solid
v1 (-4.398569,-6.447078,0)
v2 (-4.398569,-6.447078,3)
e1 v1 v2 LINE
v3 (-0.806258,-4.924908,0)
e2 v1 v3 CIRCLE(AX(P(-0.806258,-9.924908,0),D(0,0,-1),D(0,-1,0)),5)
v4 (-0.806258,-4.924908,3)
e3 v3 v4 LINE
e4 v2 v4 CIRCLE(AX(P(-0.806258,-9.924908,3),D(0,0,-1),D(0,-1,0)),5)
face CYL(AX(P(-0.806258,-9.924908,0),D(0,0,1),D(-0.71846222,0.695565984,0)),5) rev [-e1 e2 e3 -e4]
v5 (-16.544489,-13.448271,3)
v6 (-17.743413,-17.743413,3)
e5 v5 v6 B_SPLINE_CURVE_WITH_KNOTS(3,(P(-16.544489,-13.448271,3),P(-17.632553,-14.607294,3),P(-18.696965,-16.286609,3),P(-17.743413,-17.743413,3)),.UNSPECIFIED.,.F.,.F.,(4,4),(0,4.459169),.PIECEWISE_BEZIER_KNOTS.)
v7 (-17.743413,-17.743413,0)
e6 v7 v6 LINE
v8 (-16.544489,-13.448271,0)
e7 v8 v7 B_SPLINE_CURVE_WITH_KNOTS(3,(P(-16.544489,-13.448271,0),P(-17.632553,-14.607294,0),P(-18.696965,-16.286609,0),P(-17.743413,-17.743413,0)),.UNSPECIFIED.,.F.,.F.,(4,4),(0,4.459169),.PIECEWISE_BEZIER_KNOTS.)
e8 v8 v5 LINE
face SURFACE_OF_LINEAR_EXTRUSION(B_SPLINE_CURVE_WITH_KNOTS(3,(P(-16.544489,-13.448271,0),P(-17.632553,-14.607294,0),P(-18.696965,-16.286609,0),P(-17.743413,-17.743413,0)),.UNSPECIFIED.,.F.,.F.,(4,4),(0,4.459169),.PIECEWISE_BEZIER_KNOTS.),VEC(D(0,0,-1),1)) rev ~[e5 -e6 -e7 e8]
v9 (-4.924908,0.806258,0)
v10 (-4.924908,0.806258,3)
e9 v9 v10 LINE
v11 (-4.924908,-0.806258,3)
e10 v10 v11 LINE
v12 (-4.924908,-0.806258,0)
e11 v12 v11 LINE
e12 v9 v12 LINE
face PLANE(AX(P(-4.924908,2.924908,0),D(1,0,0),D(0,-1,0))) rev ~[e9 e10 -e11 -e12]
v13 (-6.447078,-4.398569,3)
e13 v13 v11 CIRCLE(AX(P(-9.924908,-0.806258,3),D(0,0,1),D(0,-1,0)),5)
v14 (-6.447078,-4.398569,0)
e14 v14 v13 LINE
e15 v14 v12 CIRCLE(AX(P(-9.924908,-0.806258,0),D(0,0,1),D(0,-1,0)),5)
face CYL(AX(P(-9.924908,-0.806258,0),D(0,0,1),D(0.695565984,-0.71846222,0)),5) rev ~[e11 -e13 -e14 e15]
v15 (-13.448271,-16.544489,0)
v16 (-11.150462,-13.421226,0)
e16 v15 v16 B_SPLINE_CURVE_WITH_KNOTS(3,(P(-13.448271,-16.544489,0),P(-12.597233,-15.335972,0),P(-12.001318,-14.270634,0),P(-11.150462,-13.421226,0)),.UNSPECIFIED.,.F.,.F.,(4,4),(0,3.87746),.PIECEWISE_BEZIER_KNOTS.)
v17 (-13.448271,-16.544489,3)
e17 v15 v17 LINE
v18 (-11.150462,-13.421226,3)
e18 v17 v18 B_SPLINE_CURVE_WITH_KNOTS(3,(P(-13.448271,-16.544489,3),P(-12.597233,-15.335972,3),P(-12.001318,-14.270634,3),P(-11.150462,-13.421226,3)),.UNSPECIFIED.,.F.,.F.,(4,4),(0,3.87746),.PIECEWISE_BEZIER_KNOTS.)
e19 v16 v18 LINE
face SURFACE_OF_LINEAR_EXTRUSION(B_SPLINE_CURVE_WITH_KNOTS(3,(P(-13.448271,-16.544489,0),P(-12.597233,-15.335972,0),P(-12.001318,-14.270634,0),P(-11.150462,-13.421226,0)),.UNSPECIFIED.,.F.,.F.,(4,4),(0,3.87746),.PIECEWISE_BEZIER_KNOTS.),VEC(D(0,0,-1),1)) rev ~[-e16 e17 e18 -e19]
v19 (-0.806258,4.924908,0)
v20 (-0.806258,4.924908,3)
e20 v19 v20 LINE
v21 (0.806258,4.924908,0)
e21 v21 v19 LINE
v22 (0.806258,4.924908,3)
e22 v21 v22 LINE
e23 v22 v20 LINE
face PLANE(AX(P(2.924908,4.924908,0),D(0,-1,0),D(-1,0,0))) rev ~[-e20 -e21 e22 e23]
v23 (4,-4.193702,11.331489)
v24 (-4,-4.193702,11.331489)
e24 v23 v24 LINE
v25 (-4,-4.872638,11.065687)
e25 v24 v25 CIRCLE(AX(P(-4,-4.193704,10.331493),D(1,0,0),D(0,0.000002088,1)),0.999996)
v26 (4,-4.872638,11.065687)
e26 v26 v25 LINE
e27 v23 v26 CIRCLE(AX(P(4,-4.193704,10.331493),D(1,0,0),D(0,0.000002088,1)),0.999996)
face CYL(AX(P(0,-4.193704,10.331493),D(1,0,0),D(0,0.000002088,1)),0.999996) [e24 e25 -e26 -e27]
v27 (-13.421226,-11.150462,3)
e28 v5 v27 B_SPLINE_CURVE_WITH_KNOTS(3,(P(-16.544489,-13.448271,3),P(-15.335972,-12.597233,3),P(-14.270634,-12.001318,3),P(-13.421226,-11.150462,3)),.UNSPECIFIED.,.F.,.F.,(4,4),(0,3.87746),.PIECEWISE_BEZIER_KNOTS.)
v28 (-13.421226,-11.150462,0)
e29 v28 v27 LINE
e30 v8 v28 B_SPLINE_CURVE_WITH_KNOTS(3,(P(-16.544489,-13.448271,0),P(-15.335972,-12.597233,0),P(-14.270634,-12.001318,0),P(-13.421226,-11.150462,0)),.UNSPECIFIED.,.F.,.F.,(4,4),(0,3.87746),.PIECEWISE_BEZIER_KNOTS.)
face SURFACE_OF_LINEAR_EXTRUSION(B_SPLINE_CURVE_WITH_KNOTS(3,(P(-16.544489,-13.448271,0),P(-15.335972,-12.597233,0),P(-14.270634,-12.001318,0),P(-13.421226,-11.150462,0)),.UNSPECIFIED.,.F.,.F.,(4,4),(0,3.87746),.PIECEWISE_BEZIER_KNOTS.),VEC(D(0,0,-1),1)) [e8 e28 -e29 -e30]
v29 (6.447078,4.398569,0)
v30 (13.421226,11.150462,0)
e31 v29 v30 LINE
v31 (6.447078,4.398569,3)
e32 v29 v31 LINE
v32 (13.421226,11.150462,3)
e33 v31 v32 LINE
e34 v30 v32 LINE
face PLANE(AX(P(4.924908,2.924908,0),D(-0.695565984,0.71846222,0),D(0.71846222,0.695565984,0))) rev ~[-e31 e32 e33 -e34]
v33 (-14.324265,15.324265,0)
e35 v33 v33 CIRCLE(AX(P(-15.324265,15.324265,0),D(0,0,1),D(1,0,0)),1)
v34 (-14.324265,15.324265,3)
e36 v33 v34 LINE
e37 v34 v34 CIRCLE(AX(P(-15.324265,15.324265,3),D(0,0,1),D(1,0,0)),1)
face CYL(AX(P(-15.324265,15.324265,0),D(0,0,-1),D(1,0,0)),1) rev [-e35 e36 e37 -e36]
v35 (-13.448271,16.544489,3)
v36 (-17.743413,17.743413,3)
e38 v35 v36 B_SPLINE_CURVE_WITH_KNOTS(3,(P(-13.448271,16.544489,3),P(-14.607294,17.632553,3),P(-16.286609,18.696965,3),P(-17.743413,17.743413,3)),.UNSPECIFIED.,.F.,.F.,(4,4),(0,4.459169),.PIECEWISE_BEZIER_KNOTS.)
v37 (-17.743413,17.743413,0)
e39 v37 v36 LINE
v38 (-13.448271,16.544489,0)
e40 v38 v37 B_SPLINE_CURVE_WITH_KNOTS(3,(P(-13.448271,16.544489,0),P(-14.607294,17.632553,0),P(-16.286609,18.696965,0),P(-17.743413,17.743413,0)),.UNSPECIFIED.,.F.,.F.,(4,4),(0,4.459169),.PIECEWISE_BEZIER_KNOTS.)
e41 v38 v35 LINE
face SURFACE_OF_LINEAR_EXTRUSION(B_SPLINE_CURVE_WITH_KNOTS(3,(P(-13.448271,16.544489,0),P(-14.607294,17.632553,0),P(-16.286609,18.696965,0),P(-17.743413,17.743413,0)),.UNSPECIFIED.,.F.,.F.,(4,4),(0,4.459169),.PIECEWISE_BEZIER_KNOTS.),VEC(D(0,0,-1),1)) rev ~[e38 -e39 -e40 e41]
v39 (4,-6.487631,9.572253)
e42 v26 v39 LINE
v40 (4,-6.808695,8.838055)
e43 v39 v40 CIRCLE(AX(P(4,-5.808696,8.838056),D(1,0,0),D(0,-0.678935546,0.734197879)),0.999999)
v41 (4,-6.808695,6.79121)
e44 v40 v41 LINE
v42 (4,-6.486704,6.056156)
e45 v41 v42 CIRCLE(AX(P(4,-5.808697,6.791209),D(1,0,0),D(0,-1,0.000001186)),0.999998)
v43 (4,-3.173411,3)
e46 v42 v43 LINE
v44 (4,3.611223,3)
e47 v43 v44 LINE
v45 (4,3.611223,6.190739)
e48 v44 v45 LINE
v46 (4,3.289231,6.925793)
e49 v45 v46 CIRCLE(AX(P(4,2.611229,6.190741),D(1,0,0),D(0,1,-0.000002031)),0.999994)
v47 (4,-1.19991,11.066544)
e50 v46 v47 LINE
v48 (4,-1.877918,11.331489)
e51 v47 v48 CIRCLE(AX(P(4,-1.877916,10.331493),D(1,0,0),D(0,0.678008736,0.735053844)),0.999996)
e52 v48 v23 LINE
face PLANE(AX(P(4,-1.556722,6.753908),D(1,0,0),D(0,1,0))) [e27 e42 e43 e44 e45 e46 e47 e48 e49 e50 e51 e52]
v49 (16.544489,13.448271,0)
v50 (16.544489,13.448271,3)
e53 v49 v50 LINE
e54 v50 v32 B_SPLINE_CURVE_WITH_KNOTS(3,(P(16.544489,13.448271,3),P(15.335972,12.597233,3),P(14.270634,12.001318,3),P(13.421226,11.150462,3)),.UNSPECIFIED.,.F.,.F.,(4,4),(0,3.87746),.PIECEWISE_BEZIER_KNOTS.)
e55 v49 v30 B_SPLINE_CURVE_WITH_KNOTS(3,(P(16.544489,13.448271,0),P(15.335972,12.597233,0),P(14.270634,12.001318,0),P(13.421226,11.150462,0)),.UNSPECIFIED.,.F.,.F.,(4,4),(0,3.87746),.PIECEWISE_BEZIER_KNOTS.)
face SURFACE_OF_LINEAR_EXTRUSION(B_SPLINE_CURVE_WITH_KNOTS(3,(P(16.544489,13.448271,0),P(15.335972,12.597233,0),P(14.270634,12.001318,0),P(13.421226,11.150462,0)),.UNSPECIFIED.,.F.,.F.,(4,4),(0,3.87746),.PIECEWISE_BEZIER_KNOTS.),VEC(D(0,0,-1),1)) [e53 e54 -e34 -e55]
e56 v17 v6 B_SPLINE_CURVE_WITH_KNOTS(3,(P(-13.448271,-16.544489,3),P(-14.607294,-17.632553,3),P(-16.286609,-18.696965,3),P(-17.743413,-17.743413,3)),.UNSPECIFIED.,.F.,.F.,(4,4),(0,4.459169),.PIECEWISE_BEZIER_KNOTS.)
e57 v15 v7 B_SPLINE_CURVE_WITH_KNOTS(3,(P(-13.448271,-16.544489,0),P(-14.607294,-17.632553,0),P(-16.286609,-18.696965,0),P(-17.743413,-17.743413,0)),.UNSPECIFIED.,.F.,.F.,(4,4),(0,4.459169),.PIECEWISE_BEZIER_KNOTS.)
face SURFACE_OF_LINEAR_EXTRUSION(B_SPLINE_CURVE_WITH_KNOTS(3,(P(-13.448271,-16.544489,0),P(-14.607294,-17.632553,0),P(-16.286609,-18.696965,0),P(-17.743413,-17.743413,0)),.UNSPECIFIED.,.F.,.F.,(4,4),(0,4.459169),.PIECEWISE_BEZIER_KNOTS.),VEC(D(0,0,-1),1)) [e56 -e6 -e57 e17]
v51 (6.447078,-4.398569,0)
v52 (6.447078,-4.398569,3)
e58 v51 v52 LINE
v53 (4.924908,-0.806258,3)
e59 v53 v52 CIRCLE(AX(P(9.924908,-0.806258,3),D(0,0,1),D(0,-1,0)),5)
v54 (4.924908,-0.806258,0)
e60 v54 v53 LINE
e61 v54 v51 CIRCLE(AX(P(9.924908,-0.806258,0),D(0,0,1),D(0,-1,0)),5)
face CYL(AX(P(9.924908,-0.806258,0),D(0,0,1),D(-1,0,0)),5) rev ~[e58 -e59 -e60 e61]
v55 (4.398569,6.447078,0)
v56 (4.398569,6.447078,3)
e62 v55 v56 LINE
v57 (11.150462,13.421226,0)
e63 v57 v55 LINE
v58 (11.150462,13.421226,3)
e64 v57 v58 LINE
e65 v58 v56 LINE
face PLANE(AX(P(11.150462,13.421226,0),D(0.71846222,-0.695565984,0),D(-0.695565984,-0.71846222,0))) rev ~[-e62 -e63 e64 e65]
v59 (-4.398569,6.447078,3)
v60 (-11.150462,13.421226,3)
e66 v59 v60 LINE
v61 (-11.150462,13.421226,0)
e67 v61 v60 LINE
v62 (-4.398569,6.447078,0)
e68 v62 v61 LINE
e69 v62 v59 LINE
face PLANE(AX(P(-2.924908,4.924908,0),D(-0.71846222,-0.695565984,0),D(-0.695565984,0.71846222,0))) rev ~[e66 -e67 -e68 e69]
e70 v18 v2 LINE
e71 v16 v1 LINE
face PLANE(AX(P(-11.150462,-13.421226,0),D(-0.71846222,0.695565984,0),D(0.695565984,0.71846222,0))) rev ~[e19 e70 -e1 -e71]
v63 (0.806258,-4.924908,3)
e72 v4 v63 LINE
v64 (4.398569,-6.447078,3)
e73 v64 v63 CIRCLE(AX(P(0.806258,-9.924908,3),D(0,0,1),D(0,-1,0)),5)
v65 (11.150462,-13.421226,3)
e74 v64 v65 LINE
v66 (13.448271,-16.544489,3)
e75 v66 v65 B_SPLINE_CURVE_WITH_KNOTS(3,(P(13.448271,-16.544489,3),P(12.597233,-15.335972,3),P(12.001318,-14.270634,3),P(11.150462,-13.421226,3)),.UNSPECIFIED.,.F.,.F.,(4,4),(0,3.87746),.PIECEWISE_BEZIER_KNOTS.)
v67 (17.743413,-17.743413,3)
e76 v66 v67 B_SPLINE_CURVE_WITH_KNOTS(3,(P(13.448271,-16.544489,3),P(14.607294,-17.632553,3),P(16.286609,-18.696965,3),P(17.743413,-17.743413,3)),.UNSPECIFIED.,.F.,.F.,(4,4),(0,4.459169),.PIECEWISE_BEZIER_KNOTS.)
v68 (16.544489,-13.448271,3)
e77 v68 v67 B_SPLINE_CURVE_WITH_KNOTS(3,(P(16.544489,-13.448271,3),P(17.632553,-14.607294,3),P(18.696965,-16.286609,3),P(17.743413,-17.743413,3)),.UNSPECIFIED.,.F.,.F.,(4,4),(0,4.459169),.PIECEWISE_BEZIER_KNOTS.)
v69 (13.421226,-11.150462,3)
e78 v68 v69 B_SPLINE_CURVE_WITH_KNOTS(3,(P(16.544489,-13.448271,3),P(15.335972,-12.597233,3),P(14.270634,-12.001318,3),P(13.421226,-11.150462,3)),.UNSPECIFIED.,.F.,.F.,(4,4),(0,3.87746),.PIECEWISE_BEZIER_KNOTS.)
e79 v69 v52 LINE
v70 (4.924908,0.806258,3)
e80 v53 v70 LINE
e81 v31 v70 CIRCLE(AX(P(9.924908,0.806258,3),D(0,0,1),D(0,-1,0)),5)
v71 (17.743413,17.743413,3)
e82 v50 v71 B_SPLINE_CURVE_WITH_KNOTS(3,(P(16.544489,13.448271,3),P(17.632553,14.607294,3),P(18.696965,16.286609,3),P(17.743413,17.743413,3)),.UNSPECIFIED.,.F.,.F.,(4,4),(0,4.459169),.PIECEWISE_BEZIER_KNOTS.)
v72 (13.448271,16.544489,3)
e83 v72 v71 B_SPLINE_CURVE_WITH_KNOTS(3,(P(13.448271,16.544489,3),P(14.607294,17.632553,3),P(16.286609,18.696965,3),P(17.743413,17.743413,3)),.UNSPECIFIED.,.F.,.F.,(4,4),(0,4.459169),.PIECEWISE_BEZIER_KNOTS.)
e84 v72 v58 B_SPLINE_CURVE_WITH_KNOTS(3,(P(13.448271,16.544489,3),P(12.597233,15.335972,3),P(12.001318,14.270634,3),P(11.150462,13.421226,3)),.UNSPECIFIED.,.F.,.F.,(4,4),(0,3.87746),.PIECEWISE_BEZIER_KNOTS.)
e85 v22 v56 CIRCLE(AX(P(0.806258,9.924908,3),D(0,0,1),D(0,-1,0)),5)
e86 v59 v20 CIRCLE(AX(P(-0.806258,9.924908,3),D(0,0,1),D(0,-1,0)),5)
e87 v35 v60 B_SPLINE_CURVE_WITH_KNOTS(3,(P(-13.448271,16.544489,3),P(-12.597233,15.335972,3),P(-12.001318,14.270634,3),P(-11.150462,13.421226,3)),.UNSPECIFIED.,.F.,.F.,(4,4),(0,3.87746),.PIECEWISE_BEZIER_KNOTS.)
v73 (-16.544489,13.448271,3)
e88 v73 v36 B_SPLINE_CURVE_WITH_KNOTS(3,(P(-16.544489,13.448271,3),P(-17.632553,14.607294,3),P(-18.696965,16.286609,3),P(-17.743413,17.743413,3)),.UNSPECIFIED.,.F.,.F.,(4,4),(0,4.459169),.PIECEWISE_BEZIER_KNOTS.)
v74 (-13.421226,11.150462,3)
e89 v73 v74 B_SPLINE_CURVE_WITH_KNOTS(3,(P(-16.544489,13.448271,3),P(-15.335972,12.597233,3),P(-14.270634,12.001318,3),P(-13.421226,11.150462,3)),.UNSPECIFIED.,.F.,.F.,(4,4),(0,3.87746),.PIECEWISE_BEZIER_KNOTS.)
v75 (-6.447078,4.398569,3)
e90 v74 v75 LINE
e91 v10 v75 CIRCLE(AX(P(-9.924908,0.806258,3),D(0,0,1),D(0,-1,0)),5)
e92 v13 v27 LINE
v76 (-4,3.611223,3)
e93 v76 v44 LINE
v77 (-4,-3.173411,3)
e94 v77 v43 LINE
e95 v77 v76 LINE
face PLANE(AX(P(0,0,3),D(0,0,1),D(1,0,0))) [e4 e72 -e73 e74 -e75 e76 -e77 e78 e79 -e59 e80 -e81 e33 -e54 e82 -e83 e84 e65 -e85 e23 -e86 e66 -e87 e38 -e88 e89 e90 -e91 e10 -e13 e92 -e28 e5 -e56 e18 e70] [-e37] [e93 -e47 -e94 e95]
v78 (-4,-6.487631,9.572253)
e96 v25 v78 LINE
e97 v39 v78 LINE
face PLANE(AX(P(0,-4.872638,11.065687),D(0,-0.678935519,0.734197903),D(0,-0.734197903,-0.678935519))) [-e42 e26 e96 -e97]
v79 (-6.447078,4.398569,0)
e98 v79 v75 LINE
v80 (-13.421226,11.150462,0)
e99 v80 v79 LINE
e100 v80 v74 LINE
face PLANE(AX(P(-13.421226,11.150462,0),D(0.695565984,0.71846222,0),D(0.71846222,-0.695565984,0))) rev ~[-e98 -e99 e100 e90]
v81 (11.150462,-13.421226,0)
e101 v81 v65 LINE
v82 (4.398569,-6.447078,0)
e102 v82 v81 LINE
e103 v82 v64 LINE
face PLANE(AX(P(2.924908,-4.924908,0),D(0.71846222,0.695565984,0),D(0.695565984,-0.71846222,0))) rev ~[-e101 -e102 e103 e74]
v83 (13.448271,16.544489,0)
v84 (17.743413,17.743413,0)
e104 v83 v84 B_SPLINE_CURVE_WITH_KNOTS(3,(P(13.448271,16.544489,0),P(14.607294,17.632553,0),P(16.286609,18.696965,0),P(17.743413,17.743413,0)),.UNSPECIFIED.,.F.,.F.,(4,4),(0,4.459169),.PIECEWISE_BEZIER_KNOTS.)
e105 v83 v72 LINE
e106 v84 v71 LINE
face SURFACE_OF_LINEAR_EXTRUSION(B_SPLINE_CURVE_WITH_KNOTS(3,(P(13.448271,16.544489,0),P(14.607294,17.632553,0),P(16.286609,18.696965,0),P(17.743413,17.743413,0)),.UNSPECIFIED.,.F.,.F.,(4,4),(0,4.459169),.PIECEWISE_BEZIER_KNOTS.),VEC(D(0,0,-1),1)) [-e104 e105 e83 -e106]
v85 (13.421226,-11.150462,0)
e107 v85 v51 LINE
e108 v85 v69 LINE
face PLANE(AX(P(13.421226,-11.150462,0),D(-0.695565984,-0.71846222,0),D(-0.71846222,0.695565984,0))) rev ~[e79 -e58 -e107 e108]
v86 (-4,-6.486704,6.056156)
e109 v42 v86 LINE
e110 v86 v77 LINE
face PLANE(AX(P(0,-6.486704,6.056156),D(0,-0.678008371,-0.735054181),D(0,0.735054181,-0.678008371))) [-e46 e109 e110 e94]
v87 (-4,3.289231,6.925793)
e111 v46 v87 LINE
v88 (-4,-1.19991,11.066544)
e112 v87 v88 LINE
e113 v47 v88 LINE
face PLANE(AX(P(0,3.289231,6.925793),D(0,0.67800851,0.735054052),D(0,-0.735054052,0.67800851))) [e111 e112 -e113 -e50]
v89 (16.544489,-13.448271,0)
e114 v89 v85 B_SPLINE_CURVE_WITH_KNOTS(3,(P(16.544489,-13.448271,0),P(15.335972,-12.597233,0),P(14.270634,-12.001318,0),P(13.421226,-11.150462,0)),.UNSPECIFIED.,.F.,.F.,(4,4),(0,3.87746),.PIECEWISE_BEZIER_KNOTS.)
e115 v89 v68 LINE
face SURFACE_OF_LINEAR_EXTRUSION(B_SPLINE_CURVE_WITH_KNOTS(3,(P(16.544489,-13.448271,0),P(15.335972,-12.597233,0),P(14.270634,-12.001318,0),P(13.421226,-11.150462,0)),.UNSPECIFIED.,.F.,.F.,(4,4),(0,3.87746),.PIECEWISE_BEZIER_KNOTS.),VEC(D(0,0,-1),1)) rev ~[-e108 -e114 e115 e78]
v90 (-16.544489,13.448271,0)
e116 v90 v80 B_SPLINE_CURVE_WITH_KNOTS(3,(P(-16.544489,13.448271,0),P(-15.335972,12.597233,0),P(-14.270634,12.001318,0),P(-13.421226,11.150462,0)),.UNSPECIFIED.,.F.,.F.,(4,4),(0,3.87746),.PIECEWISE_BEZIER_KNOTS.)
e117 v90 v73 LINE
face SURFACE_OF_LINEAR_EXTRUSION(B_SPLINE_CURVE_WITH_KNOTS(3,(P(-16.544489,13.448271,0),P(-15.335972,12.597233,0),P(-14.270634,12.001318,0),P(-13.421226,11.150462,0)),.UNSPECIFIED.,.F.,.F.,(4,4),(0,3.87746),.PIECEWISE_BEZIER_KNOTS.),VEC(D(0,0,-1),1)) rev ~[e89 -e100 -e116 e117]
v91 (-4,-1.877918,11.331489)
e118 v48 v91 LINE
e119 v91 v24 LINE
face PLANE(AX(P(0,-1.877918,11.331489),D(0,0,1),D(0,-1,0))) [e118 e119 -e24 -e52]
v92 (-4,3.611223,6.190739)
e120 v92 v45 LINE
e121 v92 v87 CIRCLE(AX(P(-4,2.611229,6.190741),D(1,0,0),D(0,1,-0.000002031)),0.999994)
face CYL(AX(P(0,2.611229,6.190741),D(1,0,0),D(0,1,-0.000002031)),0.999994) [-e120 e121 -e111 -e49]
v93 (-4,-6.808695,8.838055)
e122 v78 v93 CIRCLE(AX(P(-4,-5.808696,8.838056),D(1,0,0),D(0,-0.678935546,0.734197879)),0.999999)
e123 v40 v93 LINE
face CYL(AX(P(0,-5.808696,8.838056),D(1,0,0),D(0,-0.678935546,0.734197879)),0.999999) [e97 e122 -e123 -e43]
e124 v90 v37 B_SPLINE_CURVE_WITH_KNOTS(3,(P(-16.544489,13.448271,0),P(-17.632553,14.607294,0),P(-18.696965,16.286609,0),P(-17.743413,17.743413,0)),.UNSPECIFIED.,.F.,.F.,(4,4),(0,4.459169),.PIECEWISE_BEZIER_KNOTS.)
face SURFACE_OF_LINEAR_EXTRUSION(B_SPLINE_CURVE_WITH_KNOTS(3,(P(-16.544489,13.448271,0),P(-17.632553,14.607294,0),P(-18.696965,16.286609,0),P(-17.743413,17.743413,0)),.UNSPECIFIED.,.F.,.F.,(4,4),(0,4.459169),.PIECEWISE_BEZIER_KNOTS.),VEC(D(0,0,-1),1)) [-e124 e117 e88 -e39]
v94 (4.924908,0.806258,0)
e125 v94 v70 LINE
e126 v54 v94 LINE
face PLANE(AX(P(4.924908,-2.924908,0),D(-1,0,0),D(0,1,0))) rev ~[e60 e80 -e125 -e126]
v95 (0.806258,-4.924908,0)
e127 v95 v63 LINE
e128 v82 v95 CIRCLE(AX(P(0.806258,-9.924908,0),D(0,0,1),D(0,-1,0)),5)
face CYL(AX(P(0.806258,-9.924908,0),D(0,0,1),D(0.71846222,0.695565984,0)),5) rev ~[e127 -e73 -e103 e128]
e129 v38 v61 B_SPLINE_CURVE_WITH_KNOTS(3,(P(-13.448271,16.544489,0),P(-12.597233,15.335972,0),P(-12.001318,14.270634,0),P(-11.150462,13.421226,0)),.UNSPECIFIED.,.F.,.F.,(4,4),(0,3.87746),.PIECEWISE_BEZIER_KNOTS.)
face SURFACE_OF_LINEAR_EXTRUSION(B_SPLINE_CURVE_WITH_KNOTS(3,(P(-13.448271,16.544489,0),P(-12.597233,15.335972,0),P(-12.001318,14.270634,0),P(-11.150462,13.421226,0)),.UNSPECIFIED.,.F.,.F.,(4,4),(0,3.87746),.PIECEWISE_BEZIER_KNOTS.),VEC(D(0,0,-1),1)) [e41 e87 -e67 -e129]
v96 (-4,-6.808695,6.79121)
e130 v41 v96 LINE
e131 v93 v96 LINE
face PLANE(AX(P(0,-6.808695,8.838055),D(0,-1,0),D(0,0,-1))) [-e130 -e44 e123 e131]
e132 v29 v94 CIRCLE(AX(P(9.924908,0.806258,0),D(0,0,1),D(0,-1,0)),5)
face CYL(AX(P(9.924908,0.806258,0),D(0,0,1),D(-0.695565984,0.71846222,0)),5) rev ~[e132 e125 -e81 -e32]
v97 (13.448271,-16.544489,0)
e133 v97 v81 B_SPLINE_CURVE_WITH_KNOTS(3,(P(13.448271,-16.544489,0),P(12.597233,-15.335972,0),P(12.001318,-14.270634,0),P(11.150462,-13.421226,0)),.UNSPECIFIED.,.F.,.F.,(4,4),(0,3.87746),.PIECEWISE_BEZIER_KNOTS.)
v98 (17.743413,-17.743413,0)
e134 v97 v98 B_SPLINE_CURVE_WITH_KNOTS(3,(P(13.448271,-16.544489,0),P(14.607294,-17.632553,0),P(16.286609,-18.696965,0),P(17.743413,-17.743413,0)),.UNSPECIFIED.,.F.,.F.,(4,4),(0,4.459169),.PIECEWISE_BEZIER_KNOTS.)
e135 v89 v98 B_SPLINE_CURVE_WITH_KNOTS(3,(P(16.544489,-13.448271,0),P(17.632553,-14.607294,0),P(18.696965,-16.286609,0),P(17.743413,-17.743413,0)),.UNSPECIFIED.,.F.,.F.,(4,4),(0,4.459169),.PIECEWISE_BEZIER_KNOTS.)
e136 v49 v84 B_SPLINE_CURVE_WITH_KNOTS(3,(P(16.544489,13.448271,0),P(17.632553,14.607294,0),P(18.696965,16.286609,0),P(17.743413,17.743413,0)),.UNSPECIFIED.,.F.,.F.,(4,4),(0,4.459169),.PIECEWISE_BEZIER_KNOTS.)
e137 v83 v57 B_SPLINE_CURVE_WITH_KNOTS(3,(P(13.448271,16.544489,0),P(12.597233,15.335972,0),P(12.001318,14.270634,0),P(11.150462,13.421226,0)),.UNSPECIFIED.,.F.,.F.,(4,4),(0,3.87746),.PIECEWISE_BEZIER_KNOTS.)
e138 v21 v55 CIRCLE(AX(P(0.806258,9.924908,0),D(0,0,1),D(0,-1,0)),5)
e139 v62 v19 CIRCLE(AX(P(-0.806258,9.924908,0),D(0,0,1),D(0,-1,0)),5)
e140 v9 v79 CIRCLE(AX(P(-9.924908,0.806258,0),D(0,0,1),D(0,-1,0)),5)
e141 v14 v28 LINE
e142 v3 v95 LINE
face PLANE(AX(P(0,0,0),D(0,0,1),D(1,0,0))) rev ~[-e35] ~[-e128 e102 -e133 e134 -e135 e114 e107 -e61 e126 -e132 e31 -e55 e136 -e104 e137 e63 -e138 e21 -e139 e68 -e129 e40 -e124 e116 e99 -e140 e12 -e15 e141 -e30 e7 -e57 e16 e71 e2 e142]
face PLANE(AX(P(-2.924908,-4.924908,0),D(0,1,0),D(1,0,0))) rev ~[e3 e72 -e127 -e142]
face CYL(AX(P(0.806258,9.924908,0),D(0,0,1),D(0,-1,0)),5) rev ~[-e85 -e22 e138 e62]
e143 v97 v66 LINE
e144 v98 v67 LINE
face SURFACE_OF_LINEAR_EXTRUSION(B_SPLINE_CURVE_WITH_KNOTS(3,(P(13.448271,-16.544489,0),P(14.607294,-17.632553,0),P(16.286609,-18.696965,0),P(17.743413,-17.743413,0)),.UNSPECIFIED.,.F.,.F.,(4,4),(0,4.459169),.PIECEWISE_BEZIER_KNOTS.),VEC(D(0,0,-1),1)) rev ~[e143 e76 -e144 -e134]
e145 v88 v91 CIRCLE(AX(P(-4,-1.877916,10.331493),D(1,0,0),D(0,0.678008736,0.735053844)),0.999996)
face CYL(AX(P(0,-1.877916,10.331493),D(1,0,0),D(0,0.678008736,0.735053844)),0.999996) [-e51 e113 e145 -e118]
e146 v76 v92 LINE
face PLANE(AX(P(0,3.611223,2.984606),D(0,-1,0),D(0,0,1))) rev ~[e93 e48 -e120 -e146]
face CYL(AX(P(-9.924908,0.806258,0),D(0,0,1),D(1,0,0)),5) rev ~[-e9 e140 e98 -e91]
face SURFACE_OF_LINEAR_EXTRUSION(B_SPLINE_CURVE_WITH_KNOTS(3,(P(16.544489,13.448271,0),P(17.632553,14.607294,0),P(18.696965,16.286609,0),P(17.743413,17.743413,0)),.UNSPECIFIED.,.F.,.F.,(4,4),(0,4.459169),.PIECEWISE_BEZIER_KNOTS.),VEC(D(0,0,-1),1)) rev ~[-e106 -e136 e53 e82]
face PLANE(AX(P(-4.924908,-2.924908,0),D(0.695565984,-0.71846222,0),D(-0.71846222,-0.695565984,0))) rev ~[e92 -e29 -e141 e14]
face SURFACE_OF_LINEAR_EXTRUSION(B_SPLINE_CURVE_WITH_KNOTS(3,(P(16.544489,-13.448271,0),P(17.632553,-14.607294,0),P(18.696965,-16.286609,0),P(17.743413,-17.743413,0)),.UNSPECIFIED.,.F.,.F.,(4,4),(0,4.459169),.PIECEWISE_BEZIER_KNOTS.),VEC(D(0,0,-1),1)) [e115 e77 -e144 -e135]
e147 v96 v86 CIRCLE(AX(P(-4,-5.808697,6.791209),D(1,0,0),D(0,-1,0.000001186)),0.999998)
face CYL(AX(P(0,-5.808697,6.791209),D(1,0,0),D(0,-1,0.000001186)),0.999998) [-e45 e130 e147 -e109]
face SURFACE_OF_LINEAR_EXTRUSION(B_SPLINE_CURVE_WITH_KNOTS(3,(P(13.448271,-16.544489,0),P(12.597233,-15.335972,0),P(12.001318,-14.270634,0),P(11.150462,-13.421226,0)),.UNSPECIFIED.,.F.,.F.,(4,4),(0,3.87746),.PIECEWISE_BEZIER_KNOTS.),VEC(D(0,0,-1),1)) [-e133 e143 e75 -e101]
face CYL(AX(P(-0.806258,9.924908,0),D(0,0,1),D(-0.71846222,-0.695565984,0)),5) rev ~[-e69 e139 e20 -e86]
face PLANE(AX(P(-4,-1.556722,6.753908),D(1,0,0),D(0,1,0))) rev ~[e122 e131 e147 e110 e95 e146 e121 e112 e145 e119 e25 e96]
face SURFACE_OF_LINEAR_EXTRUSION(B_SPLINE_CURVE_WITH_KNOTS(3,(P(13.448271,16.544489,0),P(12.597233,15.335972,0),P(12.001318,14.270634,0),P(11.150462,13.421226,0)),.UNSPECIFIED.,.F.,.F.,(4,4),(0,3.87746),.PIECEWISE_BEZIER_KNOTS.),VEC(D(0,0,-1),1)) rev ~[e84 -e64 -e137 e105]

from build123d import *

# Parameters (mm, degrees)
F0_R          = 1
F1_DEPTH      = 3
F3_DEPTH      = 4
F3_DEPTH_BACK = 4
F4_R          = 5


with BuildPart() as f1:
    # F0 (on Top) → F1 (new body)
    with BuildSketch(Plane.XY):
        with BuildLine():
            ThreePointArc((-4.924908, -2.924908), (-4.339122, -4.339122), (-2.924908, -4.924908))
            Line((-2.924908, -4.924908), (2.924908, -4.924908))
            ThreePointArc((2.924908, -4.924908), (4.339122, -4.339122), (4.924908, -2.924908))
            Line((4.924908, -2.924908), (4.924908, 2.924908))
            ThreePointArc((4.924908, 2.924908), (4.339122, 4.339122), (2.924908, 4.924908))
            Line((2.924908, 4.924908), (-2.924908, 4.924908))
            ThreePointArc((-2.924908, 4.924908), (-4.339122, 4.339122), (-4.924908, 2.924908))
            Line((-4.924908, 2.924908), (-4.924908, -2.924908))
        make_face()
        with BuildLine():
            Line((-11.150462, -13.421226), (-2.924908, -4.924908))
            ThreePointArc((-2.924908, -4.924908), (-4.339122, -4.339122), (-4.924908, -2.924908))
            Line((-4.924908, -2.924908), (-13.421226, -11.150462))
            add(Edge.make_bspline(
                [(-16.544489, -13.448271), (-15.335972, -12.597233), (-14.270634, -12.001318), (-13.421226, -11.150462)],
                knots=[0, 0, 0, 0, 3.87746, 3.87746, 3.87746, 3.87746], degree=3))
            add(Edge.make_bspline(
                [(-16.544489, -13.448271), (-17.632553, -14.607294), (-18.696965, -16.286609), (-17.743413, -17.743413)],
                knots=[0, 0, 0, 0, 4.459169, 4.459169, 4.459169, 4.459169], degree=3))
            add(Edge.make_bspline(
                [(-13.448271, -16.544489), (-14.607294, -17.632553), (-16.286609, -18.696965), (-17.743413, -17.743413)],
                knots=[0, 0, 0, 0, 4.459169, 4.459169, 4.459169, 4.459169], degree=3))
            add(Edge.make_bspline(
                [(-13.448271, -16.544489), (-12.597233, -15.335972), (-12.001318, -14.270634), (-11.150462, -13.421226)],
                knots=[0, 0, 0, 0, 3.87746, 3.87746, 3.87746, 3.87746], degree=3))
        make_face()
        with BuildLine():
            ThreePointArc((4.924908, -2.924908), (4.339122, -4.339122), (2.924908, -4.924908))
            Line((2.924908, -4.924908), (11.150462, -13.421226))
            add(Edge.make_bspline(
                [(13.448271, -16.544489), (12.597233, -15.335972), (12.001318, -14.270634), (11.150462, -13.421226)],
                knots=[0, 0, 0, 0, 3.87746, 3.87746, 3.87746, 3.87746], degree=3))
            add(Edge.make_bspline(
                [(13.448271, -16.544489), (14.607294, -17.632553), (16.286609, -18.696965), (17.743413, -17.743413)],
                knots=[0, 0, 0, 0, 4.459169, 4.459169, 4.459169, 4.459169], degree=3))
            add(Edge.make_bspline(
                [(16.544489, -13.448271), (17.632553, -14.607294), (18.696965, -16.286609), (17.743413, -17.743413)],
                knots=[0, 0, 0, 0, 4.459169, 4.459169, 4.459169, 4.459169], degree=3))
            add(Edge.make_bspline(
                [(16.544489, -13.448271), (15.335972, -12.597233), (14.270634, -12.001318), (13.421226, -11.150462)],
                knots=[0, 0, 0, 0, 3.87746, 3.87746, 3.87746, 3.87746], degree=3))
            Line((13.421226, -11.150462), (4.924908, -2.924908))
        make_face()
        with BuildLine():
            Line((-13.421226, 11.150462), (-4.924908, 2.924908))
            ThreePointArc((-4.924908, 2.924908), (-4.339122, 4.339122), (-2.924908, 4.924908))
            Line((-2.924908, 4.924908), (-11.150462, 13.421226))
            add(Edge.make_bspline(
                [(-13.448271, 16.544489), (-12.597233, 15.335972), (-12.001318, 14.270634), (-11.150462, 13.421226)],
                knots=[0, 0, 0, 0, 3.87746, 3.87746, 3.87746, 3.87746], degree=3))
            add(Edge.make_bspline(
                [(-13.448271, 16.544489), (-14.607294, 17.632553), (-16.286609, 18.696965), (-17.743413, 17.743413)],
                knots=[0, 0, 0, 0, 4.459169, 4.459169, 4.459169, 4.459169], degree=3))
            add(Edge.make_bspline(
                [(-16.544489, 13.448271), (-17.632553, 14.607294), (-18.696965, 16.286609), (-17.743413, 17.743413)],
                knots=[0, 0, 0, 0, 4.459169, 4.459169, 4.459169, 4.459169], degree=3))
            add(Edge.make_bspline(
                [(-16.544489, 13.448271), (-15.335972, 12.597233), (-14.270634, 12.001318), (-13.421226, 11.150462)],
                knots=[0, 0, 0, 0, 3.87746, 3.87746, 3.87746, 3.87746], degree=3))
        make_face()
        with Locations((-15.324265, 15.324265)):
            Circle(F0_R, mode=Mode.SUBTRACT)
        with BuildLine():
            ThreePointArc((2.924908, 4.924908), (4.339122, 4.339122), (4.924908, 2.924908))
            Line((4.924908, 2.924908), (13.421226, 11.150462))
            add(Edge.make_bspline(
                [(16.544489, 13.448271), (15.335972, 12.597233), (14.270634, 12.001318), (13.421226, 11.150462)],
                knots=[0, 0, 0, 0, 3.87746, 3.87746, 3.87746, 3.87746], degree=3))
            add(Edge.make_bspline(
                [(16.544489, 13.448271), (17.632553, 14.607294), (18.696965, 16.286609), (17.743413, 17.743413)],
                knots=[0, 0, 0, 0, 4.459169, 4.459169, 4.459169, 4.459169], degree=3))
            add(Edge.make_bspline(
                [(13.448271, 16.544489), (14.607294, 17.632553), (16.286609, 18.696965), (17.743413, 17.743413)],
                knots=[0, 0, 0, 0, 4.459169, 4.459169, 4.459169, 4.459169], degree=3))
            add(Edge.make_bspline(
                [(13.448271, 16.544489), (12.597233, 15.335972), (12.001318, 14.270634), (11.150462, 13.421226)],
                knots=[0, 0, 0, 0, 3.87746, 3.87746, 3.87746, 3.87746], degree=3))
            Line((11.150462, 13.421226), (2.924908, 4.924908))
        make_face()
    extrude(amount=F1_DEPTH)

    # F2 (on Right) → F3 (join, two sides)
    with BuildSketch(Plane.YZ) as f3_sk:
        with BuildLine():
            Line((-6.486704, 6.056156), (-3.156722, 2.984606))
            Line((-3.156722, 2.984606), (3.611223, 2.984606))
            Line((3.611223, 2.984606), (3.611223, 6.190739))
            ThreePointArc((3.611223, 6.190739), (3.527195, 6.591982), (3.289231, 6.925793))
            Line((3.289231, 6.925793), (-1.19991, 11.066544))
            ThreePointArc((-1.19991, 11.066544), (-1.51395, 11.262901), (-1.877918, 11.331489))
            Line((-1.877918, 11.331489), (-4.193702, 11.331489))
            ThreePointArc((-4.193702, 11.331489), (-4.558258, 11.262671), (-4.872638, 11.065687))
            Line((-4.872638, 11.065687), (-6.487631, 9.572253))
            ThreePointArc((-6.487631, 9.572253), (-6.72492, 9.23872), (-6.808695, 8.838055))
            Line((-6.808695, 8.838055), (-6.808695, 6.79121))
            ThreePointArc((-6.808695, 6.79121), (-6.724667, 6.389967), (-6.486704, 6.056156))
        make_face()
    extrude(amount=F3_DEPTH)
    extrude(f3_sk.sketch, amount=-F3_DEPTH_BACK)

    # F4
    f4_edges = [f1.edges().sort_by_distance(p)[0] for p in [
        (4.924908, -2.924908, 1.5),
        (4.924908, 2.924908, 1.5),
        (2.924908, 4.924908, 1.5),
        (-2.924908, 4.924908, 1.5),
        (-4.924908, 2.924908, 1.5),
        (-4.924908, -2.924908, 1.5),
        (-2.924908, -4.924908, 1.5),
        (2.924908, -4.924908, 1.5),
    ]]
    fillet(f4_edges, radius=F4_R)


solid = f1.part
